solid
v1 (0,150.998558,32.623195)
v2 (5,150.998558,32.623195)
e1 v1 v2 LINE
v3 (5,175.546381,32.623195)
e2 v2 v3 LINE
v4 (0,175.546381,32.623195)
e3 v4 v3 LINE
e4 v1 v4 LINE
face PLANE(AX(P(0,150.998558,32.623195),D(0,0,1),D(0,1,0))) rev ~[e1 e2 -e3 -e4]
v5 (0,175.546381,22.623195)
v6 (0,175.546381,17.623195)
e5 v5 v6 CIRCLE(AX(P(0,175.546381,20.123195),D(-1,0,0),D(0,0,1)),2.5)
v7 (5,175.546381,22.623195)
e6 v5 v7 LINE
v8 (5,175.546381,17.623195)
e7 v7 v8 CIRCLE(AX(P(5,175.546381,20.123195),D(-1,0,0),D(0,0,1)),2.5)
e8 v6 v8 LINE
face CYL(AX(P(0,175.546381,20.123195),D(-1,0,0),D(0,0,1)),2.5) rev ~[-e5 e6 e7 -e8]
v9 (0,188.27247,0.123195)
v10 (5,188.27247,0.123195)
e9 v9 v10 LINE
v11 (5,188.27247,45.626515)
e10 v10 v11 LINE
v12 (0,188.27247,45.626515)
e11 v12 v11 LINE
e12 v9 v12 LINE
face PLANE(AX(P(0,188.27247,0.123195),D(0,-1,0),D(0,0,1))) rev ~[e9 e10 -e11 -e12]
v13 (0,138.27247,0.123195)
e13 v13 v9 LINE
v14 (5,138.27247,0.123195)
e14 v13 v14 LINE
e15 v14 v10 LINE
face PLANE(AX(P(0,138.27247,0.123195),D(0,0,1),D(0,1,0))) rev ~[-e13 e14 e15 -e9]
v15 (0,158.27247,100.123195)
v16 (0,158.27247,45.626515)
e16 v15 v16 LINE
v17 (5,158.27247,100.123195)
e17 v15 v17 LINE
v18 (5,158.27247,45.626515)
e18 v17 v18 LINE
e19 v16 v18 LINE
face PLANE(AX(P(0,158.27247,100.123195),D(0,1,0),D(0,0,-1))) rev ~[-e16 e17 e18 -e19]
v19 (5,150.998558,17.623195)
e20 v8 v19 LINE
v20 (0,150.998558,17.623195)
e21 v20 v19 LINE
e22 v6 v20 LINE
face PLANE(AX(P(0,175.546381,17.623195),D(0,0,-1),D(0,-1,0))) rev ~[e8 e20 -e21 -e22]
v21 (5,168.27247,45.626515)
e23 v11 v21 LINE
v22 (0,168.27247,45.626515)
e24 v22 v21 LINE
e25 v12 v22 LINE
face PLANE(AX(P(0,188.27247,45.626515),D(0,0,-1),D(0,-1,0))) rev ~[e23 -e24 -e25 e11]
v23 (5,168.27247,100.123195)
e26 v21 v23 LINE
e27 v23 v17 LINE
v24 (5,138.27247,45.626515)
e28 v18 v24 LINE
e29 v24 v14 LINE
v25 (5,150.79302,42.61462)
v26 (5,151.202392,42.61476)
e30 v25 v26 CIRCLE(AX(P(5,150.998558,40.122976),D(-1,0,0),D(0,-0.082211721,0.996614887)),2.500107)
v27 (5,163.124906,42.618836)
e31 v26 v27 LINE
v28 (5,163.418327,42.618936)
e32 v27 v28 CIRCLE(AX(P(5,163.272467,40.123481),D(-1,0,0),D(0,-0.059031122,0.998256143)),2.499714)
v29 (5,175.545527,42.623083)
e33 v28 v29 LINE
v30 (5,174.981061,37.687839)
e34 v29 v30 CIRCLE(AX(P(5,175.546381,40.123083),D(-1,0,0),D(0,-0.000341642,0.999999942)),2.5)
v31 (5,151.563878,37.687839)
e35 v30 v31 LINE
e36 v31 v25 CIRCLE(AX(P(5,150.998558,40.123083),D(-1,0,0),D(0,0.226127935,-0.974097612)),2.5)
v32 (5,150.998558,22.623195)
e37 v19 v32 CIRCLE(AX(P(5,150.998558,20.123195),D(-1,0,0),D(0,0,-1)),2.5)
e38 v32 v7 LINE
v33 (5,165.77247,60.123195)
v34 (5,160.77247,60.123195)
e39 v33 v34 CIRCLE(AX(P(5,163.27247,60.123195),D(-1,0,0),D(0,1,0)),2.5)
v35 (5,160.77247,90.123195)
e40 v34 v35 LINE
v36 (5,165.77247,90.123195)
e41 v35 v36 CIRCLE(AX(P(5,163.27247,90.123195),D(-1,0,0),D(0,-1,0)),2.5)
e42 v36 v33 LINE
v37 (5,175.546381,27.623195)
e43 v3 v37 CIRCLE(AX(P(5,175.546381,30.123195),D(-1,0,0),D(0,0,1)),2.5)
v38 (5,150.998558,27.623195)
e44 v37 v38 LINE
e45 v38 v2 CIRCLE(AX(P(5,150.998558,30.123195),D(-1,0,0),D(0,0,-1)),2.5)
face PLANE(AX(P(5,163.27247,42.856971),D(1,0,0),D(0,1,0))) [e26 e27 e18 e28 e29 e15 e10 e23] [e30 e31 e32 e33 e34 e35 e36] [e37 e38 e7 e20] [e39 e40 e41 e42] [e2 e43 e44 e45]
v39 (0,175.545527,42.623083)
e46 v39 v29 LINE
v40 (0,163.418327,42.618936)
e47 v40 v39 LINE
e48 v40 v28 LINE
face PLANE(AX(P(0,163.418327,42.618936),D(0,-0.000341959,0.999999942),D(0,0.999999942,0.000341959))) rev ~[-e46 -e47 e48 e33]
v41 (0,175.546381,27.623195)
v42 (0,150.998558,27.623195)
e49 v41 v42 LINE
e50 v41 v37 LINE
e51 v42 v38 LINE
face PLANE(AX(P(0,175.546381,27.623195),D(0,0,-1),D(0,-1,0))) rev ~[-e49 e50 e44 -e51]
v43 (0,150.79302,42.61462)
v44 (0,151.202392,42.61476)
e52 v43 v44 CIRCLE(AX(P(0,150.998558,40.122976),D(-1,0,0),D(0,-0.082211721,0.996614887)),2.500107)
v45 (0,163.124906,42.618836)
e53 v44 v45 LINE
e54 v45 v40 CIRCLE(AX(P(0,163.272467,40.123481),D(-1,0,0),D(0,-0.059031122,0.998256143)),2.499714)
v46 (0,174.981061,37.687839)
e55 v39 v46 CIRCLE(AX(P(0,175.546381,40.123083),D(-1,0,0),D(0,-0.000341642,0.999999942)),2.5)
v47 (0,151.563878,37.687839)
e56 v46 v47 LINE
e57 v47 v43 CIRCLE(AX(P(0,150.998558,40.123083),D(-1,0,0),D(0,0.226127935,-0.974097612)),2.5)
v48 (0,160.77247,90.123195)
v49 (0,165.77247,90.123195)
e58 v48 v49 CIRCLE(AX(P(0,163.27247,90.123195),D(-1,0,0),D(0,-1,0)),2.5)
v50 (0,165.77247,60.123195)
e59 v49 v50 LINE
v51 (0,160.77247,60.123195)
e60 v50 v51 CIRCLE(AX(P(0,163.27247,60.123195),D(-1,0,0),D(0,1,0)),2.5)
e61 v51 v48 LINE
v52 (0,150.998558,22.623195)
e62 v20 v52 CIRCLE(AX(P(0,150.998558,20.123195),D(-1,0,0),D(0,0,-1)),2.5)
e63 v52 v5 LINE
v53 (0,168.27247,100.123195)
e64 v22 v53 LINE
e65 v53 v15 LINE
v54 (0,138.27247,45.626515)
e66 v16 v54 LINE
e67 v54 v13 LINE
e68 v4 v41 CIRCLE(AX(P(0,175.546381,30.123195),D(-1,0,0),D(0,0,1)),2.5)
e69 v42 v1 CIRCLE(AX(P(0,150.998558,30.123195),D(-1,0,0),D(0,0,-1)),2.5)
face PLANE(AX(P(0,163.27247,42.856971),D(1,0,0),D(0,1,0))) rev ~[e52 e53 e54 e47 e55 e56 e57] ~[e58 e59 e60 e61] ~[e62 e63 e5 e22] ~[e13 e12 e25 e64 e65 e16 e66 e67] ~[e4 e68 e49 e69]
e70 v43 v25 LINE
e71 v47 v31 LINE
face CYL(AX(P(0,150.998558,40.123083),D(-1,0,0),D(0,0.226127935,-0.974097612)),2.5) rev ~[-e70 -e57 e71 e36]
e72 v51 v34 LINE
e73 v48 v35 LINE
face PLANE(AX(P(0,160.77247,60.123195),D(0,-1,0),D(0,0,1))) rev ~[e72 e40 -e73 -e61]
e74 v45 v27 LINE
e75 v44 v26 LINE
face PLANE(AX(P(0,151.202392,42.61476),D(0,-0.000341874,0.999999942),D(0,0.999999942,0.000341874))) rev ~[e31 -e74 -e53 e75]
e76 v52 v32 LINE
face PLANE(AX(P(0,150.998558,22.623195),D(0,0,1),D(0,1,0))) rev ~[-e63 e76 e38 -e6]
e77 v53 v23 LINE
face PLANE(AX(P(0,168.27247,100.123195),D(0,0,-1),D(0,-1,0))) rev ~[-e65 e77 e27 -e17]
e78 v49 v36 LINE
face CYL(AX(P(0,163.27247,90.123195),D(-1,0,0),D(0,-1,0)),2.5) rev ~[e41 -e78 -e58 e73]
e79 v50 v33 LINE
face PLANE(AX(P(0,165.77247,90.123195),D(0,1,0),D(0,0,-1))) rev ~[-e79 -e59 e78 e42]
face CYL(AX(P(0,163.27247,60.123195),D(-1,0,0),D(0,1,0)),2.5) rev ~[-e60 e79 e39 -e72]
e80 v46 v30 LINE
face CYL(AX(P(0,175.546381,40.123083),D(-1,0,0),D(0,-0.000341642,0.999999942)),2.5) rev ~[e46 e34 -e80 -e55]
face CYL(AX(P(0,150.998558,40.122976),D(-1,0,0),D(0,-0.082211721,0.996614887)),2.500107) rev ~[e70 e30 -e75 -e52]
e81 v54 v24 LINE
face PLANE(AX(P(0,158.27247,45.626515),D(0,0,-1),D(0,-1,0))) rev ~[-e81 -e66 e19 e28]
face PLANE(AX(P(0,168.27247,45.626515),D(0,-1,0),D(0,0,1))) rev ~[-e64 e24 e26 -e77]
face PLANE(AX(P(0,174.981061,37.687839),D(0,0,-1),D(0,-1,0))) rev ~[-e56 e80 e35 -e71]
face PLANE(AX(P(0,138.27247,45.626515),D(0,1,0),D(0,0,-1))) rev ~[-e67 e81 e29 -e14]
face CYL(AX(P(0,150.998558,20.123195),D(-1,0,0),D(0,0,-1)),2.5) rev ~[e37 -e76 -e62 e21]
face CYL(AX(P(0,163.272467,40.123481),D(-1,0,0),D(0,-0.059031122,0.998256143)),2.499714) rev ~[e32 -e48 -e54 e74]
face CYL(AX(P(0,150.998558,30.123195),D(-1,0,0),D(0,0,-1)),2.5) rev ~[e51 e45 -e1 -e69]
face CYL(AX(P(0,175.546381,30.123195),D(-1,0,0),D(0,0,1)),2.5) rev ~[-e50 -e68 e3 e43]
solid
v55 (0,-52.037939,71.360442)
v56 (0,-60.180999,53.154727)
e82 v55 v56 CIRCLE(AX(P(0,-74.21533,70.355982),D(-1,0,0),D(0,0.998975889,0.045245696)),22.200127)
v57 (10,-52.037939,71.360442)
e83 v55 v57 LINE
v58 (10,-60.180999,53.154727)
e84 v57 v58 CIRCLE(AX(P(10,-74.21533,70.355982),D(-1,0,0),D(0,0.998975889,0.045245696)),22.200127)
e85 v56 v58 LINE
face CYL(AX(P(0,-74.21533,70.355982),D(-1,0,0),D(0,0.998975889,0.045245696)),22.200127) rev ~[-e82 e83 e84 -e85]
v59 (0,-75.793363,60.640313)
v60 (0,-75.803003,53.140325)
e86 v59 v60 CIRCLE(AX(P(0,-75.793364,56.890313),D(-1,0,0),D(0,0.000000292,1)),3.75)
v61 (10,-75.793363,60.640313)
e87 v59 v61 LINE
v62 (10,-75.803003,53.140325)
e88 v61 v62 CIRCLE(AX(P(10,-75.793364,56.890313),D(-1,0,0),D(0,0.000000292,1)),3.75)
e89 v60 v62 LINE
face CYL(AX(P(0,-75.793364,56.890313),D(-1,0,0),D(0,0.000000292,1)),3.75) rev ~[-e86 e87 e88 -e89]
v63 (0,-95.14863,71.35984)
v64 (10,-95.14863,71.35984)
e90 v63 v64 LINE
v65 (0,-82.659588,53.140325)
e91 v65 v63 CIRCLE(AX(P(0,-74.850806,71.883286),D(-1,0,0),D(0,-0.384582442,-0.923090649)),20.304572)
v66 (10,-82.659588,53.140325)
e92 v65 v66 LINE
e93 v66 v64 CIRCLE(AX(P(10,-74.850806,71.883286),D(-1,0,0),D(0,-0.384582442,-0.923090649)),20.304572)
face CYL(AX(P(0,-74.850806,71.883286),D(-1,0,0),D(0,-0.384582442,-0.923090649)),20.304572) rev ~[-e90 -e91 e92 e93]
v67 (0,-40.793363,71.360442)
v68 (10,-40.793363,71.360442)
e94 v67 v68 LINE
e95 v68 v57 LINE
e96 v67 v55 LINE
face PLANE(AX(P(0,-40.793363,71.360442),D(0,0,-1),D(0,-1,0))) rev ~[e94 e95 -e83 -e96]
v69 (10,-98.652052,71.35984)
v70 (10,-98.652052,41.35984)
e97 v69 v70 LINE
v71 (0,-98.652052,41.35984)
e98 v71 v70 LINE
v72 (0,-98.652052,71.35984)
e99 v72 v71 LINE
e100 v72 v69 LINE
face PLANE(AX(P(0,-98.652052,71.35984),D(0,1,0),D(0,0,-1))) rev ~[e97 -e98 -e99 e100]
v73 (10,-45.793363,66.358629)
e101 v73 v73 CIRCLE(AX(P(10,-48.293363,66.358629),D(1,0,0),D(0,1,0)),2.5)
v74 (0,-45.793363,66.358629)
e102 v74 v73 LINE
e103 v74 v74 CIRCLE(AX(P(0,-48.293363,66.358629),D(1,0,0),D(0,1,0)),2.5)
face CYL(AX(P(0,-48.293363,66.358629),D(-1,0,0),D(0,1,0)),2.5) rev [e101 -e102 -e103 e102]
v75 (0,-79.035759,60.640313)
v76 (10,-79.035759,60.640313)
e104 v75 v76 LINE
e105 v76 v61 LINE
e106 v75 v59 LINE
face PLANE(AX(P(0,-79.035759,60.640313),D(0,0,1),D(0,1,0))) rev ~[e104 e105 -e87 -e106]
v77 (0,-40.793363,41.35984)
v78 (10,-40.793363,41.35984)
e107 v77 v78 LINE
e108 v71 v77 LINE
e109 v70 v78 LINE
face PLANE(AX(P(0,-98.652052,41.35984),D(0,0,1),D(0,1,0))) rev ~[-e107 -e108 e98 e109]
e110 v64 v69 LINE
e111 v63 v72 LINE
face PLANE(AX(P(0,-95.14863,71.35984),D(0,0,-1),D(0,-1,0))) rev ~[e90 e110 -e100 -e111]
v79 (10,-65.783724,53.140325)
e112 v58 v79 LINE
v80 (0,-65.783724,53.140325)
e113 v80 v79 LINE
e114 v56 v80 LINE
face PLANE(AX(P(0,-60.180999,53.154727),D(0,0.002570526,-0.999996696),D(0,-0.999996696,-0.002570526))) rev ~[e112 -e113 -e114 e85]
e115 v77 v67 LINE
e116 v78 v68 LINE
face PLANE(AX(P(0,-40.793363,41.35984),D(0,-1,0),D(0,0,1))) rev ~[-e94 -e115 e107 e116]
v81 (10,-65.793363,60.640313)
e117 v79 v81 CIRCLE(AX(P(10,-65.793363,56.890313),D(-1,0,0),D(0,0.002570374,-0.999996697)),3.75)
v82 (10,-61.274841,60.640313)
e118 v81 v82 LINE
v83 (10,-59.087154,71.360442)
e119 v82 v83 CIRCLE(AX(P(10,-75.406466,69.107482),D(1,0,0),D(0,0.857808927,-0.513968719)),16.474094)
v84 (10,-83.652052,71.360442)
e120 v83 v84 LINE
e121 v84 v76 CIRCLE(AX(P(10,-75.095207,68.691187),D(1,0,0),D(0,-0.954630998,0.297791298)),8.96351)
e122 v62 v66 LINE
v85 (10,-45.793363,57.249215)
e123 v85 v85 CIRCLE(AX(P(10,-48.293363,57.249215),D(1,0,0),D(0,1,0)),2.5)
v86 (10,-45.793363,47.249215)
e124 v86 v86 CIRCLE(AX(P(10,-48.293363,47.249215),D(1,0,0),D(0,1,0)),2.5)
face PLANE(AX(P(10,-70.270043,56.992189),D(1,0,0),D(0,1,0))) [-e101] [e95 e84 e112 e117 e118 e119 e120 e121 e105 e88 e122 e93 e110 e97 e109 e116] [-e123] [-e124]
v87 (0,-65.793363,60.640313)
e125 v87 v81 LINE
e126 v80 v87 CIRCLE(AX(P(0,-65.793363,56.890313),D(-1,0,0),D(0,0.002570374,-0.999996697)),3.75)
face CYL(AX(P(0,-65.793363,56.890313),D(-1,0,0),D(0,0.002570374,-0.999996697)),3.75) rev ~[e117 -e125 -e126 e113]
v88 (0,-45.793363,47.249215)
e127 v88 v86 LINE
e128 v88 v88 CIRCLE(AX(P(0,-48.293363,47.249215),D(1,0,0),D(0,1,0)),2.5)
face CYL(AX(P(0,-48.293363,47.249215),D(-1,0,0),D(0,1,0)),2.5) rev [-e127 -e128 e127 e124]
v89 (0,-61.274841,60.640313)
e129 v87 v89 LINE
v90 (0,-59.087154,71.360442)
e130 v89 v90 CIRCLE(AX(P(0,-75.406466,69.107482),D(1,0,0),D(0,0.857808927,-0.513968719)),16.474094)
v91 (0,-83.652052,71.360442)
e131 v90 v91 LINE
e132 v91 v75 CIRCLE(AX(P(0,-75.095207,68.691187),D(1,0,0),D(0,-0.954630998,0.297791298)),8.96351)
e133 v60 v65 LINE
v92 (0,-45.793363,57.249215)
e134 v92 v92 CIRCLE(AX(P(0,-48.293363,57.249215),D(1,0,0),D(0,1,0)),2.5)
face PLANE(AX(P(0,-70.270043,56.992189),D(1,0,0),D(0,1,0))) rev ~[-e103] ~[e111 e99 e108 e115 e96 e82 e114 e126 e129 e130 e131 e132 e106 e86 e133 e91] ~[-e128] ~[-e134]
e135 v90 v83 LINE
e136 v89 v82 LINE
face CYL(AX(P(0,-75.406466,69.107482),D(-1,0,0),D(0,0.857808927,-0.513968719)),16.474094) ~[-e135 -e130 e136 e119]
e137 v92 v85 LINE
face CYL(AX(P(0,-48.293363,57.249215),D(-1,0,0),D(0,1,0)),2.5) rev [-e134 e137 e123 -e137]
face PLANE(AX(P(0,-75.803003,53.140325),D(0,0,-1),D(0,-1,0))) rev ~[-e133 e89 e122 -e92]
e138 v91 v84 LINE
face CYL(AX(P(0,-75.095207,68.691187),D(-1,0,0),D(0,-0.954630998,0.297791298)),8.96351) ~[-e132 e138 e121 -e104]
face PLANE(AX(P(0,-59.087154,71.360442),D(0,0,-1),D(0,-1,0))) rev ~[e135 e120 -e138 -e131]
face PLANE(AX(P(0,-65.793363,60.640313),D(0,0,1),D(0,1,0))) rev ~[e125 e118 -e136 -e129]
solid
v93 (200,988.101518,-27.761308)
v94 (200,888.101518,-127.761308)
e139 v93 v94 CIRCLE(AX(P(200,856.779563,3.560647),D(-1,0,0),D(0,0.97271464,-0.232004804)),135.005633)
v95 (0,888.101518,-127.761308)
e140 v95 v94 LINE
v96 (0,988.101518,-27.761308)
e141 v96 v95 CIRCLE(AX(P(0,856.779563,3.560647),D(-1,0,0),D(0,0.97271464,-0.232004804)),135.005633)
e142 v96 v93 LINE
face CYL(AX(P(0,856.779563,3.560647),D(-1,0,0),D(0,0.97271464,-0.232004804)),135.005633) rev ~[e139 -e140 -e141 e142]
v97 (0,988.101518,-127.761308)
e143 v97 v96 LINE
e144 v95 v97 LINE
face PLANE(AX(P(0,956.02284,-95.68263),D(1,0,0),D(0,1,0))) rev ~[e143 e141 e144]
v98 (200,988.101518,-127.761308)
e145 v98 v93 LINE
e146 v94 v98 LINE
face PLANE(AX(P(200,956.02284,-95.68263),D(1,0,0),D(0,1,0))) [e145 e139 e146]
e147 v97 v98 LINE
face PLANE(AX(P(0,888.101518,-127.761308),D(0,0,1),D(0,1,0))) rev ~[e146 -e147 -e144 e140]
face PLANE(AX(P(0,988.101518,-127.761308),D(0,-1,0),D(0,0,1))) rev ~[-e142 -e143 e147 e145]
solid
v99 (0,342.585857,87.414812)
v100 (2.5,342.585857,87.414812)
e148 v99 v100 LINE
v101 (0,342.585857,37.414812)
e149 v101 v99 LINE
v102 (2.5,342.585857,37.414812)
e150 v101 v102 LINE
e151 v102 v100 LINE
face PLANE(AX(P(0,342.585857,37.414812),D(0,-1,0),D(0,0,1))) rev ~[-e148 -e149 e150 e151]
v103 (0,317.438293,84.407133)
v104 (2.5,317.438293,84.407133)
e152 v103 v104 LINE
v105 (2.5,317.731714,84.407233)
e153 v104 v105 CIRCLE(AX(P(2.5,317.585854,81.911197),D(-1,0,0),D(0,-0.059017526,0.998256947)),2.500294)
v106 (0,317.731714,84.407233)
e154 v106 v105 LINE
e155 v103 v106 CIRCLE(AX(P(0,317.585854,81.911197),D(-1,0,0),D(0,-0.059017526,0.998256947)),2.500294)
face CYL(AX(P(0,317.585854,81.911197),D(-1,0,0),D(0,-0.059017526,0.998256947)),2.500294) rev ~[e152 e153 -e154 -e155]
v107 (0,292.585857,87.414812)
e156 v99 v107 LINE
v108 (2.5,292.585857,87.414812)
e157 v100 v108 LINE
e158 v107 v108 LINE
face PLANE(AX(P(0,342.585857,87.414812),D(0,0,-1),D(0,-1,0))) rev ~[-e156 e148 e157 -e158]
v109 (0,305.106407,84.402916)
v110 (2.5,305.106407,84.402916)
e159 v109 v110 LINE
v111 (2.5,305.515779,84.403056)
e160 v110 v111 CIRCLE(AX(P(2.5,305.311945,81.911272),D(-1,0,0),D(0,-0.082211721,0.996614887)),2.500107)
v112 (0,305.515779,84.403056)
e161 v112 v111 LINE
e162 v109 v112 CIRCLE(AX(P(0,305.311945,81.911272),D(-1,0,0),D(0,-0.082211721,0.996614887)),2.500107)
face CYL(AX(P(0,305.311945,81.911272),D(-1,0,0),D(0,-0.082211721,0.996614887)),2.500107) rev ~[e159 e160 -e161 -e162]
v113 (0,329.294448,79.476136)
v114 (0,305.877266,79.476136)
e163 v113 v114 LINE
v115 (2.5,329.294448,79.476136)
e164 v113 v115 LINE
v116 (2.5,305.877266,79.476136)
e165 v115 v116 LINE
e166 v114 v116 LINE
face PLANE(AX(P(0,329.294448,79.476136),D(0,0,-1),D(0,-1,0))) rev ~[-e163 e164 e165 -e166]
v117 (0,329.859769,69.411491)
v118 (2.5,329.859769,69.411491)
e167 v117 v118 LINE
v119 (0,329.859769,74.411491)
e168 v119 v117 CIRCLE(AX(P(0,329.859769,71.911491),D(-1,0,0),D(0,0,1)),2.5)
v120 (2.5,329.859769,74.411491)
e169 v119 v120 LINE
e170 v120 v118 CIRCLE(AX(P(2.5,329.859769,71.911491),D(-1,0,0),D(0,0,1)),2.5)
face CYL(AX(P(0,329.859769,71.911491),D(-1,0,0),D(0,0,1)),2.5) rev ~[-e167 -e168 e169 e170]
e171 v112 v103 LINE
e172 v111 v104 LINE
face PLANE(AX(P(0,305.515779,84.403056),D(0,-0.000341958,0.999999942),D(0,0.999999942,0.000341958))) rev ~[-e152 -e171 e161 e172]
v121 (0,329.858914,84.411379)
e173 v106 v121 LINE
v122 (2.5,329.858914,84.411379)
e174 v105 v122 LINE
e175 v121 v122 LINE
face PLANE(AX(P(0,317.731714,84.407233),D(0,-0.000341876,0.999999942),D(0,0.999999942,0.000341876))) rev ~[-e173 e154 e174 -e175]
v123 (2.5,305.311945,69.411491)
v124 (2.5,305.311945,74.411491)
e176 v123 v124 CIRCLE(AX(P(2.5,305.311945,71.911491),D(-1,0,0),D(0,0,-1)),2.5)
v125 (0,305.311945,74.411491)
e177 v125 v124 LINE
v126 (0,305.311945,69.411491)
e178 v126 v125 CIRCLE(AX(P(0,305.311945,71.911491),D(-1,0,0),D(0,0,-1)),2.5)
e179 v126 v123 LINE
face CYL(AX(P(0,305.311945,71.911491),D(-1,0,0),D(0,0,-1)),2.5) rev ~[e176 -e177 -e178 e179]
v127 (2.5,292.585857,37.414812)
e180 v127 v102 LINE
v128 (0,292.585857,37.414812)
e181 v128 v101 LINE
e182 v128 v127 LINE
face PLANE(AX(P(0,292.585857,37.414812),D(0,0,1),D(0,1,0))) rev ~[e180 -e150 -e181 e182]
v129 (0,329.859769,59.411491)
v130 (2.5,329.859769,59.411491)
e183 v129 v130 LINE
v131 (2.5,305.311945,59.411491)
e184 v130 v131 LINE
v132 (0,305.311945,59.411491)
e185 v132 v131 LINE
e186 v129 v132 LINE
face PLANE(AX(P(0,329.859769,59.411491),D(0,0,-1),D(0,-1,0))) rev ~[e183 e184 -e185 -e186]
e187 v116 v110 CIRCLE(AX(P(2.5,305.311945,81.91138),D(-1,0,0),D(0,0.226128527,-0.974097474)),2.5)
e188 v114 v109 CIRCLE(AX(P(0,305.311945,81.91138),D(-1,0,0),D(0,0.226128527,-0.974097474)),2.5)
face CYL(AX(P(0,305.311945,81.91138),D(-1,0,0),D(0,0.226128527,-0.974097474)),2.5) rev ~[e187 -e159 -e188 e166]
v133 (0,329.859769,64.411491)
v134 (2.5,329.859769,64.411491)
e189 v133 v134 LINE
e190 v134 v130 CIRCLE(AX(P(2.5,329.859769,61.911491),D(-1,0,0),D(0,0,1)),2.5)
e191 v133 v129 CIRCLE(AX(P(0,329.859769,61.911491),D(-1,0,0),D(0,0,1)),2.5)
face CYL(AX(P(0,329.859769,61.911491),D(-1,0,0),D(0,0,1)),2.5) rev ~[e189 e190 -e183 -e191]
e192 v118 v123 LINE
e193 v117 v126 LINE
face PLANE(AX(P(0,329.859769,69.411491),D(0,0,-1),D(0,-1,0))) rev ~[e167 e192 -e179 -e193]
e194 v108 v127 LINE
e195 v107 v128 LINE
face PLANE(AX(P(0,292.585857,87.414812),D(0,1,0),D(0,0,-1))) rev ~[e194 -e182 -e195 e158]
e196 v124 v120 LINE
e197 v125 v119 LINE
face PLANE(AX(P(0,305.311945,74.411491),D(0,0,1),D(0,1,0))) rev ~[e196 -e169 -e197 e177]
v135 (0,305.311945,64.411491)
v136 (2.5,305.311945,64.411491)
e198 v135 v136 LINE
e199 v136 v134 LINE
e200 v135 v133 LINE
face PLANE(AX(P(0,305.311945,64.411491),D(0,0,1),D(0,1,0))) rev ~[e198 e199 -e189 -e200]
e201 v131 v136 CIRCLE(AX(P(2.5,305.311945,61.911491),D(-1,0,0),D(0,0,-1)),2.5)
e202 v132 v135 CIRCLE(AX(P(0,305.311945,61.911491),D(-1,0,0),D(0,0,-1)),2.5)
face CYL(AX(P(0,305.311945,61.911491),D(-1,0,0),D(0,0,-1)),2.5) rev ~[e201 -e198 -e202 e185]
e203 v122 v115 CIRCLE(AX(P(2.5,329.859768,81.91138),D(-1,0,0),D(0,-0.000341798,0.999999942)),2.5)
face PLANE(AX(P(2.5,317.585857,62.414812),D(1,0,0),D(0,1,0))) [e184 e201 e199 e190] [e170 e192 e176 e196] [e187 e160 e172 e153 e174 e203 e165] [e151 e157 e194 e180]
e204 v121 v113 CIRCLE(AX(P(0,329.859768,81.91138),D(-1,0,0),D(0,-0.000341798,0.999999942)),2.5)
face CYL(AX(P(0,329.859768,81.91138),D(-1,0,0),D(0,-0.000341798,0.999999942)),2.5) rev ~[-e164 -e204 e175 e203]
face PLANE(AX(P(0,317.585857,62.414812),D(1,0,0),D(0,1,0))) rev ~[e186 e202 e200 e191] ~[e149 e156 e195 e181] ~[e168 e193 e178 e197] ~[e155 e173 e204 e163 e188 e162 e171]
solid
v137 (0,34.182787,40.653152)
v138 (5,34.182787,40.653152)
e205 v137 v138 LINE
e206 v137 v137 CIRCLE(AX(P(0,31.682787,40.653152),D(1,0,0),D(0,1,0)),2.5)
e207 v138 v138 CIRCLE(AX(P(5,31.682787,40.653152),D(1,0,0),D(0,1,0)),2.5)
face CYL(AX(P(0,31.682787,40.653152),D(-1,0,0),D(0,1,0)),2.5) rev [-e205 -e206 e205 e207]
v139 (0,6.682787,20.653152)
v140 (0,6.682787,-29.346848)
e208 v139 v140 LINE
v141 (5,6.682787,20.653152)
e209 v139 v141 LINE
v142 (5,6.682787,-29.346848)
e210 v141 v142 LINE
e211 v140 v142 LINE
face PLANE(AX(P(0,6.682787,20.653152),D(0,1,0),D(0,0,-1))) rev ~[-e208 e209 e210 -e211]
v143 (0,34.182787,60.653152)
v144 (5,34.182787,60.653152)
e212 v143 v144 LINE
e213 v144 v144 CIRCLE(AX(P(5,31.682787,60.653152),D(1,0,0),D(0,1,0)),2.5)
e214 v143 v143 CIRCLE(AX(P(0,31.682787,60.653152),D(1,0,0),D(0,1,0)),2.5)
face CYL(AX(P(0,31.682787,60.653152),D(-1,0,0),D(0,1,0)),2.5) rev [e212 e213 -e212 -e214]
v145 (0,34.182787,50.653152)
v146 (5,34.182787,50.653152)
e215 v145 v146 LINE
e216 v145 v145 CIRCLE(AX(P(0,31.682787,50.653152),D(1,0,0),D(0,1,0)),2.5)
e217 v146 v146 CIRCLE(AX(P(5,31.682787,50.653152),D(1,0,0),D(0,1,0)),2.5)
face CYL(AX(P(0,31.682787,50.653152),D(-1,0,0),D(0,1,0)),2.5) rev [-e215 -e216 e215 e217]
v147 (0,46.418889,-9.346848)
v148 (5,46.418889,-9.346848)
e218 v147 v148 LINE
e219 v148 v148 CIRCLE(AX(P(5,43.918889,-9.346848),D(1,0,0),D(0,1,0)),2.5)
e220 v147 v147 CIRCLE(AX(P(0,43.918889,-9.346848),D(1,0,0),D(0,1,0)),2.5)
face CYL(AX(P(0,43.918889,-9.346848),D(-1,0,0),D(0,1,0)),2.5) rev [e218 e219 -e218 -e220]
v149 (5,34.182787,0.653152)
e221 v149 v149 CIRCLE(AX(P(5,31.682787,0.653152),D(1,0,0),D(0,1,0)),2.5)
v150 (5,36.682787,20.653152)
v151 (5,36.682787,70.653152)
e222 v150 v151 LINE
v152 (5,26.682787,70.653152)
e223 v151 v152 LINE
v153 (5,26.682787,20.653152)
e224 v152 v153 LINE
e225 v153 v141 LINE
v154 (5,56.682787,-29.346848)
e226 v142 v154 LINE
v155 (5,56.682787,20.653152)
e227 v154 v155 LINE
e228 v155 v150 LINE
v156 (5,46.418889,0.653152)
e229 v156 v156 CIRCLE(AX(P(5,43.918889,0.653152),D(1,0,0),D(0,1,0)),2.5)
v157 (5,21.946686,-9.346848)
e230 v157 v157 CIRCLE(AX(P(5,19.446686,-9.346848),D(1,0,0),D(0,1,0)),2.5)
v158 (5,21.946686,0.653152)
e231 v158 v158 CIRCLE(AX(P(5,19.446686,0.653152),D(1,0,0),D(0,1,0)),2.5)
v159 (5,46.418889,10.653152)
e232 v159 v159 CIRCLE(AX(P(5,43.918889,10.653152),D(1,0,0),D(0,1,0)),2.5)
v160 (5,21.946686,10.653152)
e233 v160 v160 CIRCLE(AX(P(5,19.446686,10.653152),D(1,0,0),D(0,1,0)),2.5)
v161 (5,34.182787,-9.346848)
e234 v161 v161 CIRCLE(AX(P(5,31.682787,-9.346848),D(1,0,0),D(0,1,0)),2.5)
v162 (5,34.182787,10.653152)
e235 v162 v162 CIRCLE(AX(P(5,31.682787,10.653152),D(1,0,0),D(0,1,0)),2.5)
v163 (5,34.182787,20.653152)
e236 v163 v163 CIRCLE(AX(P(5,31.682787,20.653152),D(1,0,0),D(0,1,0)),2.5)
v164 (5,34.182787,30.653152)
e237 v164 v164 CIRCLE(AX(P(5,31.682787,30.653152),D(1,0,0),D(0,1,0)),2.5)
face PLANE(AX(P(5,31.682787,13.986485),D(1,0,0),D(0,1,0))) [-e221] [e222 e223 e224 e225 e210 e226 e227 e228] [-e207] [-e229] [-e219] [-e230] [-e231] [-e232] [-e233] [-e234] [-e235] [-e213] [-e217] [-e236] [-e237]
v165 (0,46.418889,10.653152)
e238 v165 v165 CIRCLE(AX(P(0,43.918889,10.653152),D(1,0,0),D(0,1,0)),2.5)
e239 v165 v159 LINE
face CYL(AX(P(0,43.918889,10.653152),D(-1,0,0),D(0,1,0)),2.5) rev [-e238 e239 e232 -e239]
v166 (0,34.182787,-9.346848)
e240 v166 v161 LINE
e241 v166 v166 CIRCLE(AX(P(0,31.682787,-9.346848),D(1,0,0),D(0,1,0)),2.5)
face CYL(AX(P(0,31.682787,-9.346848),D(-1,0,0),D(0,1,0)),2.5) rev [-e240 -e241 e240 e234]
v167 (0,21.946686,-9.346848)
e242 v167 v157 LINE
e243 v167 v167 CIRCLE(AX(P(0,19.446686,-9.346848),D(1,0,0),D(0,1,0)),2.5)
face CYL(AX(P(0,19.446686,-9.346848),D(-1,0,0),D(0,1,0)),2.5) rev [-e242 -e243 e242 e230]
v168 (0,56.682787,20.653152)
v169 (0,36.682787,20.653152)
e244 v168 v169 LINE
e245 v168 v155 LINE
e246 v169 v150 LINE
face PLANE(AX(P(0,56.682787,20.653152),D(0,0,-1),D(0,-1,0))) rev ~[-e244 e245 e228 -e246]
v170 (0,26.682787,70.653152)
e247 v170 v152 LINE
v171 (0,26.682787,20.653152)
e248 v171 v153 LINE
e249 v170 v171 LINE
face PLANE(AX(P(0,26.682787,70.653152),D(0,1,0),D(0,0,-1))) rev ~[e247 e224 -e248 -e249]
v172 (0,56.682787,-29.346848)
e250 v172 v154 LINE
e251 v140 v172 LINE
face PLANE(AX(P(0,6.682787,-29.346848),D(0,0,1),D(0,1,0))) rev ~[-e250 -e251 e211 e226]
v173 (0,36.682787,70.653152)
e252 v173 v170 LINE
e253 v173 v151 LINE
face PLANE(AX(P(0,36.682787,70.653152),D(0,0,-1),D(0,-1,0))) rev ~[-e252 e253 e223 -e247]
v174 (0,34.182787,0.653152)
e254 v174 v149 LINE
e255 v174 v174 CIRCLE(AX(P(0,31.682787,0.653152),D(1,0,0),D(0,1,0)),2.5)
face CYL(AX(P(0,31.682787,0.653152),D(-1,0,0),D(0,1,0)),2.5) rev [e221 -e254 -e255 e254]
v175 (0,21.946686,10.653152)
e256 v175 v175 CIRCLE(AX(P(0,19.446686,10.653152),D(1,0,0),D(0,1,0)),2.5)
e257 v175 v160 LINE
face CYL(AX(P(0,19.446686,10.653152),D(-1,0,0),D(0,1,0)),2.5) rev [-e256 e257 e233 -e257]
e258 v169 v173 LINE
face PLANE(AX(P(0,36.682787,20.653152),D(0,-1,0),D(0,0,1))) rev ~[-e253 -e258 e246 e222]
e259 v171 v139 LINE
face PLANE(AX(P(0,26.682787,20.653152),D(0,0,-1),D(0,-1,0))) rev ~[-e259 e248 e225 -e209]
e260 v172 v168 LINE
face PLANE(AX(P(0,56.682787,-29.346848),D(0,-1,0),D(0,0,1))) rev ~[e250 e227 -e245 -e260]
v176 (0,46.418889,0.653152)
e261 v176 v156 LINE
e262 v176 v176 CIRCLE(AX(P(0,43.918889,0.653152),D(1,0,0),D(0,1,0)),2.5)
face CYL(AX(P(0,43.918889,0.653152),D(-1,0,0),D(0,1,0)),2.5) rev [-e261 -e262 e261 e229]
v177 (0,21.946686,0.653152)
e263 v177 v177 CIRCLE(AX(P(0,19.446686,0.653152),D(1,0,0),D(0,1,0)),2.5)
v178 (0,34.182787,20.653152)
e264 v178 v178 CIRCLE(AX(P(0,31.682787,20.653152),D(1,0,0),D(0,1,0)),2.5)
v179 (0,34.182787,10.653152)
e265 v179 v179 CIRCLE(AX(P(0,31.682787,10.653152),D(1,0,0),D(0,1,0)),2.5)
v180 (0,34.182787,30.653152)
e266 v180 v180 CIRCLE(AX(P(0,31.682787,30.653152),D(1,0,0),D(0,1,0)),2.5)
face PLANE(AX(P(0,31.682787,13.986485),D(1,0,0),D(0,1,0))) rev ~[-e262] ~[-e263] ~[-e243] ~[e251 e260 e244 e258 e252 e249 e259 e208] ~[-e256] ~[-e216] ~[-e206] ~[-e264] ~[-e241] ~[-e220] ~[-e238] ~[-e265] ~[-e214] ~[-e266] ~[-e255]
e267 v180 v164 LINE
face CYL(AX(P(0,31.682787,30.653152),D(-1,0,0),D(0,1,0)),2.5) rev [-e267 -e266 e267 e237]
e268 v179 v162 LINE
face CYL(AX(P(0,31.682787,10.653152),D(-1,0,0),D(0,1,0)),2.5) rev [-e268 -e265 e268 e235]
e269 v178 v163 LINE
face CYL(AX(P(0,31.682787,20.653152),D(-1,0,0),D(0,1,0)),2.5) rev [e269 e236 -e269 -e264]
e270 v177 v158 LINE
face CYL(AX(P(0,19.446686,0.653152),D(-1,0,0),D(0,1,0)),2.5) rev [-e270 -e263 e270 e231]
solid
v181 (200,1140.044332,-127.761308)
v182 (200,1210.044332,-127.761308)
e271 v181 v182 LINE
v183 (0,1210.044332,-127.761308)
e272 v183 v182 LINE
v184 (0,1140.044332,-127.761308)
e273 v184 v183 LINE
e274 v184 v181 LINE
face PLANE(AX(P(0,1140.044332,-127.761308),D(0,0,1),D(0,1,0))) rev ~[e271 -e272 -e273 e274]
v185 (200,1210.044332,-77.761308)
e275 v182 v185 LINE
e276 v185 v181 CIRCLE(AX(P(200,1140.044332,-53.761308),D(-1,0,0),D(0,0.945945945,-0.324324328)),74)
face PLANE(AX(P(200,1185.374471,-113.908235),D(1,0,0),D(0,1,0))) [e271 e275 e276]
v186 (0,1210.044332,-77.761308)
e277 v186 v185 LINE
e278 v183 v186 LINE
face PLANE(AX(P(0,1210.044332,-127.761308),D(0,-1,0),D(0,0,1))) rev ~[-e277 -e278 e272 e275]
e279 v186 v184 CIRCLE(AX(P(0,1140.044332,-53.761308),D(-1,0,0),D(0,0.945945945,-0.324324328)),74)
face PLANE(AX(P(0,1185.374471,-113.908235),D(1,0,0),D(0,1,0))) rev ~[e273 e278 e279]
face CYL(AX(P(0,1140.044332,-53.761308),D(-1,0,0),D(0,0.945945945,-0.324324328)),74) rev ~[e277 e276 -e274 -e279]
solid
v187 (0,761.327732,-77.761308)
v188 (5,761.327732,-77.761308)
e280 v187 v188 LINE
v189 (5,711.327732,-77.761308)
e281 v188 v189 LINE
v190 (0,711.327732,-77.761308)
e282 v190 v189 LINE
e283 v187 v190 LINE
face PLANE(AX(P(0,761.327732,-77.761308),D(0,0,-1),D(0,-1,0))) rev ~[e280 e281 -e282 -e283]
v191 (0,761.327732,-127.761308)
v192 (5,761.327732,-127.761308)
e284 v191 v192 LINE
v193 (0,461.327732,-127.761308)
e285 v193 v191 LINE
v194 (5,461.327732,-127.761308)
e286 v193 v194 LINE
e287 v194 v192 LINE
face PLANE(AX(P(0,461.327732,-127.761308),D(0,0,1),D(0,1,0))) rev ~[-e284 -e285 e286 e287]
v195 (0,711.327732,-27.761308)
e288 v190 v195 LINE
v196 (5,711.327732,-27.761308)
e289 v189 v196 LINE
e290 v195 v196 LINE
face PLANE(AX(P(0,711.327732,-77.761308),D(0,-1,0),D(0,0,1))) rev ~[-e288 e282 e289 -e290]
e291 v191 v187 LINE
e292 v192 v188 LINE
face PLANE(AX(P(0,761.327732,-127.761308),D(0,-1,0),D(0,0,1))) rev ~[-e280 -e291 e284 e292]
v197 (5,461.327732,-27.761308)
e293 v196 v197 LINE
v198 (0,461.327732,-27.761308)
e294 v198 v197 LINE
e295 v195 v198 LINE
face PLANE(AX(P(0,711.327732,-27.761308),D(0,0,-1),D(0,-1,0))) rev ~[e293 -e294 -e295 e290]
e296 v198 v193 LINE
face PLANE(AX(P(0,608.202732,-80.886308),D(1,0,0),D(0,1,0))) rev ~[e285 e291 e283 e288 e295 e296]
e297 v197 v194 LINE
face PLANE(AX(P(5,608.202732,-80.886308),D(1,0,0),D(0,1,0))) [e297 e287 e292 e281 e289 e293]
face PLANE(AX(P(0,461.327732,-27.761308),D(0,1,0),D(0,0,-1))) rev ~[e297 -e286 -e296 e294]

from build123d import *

# Parameters (mm, degrees)
F0_R     = 2.5
F1_DEPTH = 10
F2_DEPTH = 5
F3_DEPTH = 5
F4_DEPTH = 2.5
F5_DEPTH = 5
F6_DEPTH = 200
F7_DEPTH = 200


with BuildPart() as f1:
    # F0 (on Right) → F1 (new body)
    with BuildSketch(Plane.YZ):
        with BuildLine():
            Line((-40.793363, 71.360442), (-45.793363, 71.360442))
            Line((-45.793363, 71.360442), (-52.037939, 71.360442))
            ThreePointArc((-52.037939, 71.360442), (-53.949985, 61.291689), (-60.180999, 53.154727))
            Line((-60.180999, 53.154727), (-65.783724, 53.140325))
            ThreePointArc((-65.783724, 53.140325), (-69.54336, 56.885493), (-65.793363, 60.640313))
            Line((-65.793363, 60.640313), (-61.274841, 60.640313))
            ThreePointArc((-61.274841, 60.640313), (-59.265054, 65.813458), (-59.087154, 71.360442))
            Line((-59.087154, 71.360442), (-83.652052, 71.360442))
            ThreePointArc((-83.652052, 71.360442), (-83.327857, 65.14605), (-79.035759, 60.640313))
            Line((-79.035759, 60.640313), (-75.793363, 60.640313))
            ThreePointArc((-75.793363, 60.640313), (-72.043367, 56.885493), (-75.803003, 53.140325))
            Line((-75.803003, 53.140325), (-82.659588, 53.140325))
            ThreePointArc((-82.659588, 53.140325), (-91.598433, 60.403188), (-95.14863, 71.35984))
            Line((-95.14863, 71.35984), (-98.652052, 71.35984))
            Line((-98.652052, 71.35984), (-98.652052, 41.35984))
            Line((-98.652052, 41.35984), (-93.652052, 41.35984))
            Line((-93.652052, 41.35984), (-80.745518, 41.35984))
            Line((-80.745518, 41.35984), (-45.793363, 41.35984))
            Line((-45.793363, 41.35984), (-40.793363, 41.35984))
            Line((-40.793363, 41.35984), (-40.793363, 71.360442))
        make_face()
        with Locations((-48.293363, 47.249215)):
            Circle(F0_R, mode=Mode.SUBTRACT)
        with Locations((-48.293363, 57.249215)):
            Circle(F0_R, mode=Mode.SUBTRACT)
        with Locations((-48.293363, 66.358629)):
            Circle(F0_R, mode=Mode.SUBTRACT)
    extrude(amount=F1_DEPTH)


with BuildPart() as f2:
    # F0 (on Right) → F2 (new body)
    with BuildSketch(Plane.YZ):
        Polygon((36.682787, 70.653152), (26.682787, 70.653152), (26.682787, 20.653152), (6.682787, 20.653152), (6.682787, -29.346848), (26.682787, -29.346848), (36.682787, -29.346848), (56.682787, -29.346848), (56.682787, 10.653152), (56.682787, 20.653152), (36.682787, 20.653152), align=None)
        with Locations((19.446686, -9.346848)):
            Circle(F0_R, mode=Mode.SUBTRACT)
        with Locations((31.682787, -9.346848)):
            Circle(F0_R, mode=Mode.SUBTRACT)
        with Locations((43.918889, -9.346848)):
            Circle(F0_R, mode=Mode.SUBTRACT)
        with Locations((19.446686, 0.653152)):
            Circle(F0_R, mode=Mode.SUBTRACT)
        with Locations((31.682787, 0.653152)):
            Circle(F0_R, mode=Mode.SUBTRACT)
        with Locations((43.918889, 0.653152)):
            Circle(F0_R, mode=Mode.SUBTRACT)
        with Locations((19.446686, 10.653152)):
            Circle(F0_R, mode=Mode.SUBTRACT)
        with Locations((31.682787, 10.653152)):
            Circle(F0_R, mode=Mode.SUBTRACT)
        with Locations((43.918889, 10.653152)):
            Circle(F0_R, mode=Mode.SUBTRACT)
        with Locations((31.682787, 20.653152)):
            Circle(F0_R, mode=Mode.SUBTRACT)
        with Locations((31.682787, 30.653152)):
            Circle(F0_R, mode=Mode.SUBTRACT)
        with Locations((31.682787, 40.653152)):
            Circle(F0_R, mode=Mode.SUBTRACT)
        with Locations((31.682787, 50.653152)):
            Circle(F0_R, mode=Mode.SUBTRACT)
        with Locations((31.682787, 60.653152)):
            Circle(F0_R, mode=Mode.SUBTRACT)
    extrude(amount=F2_DEPTH)


with BuildPart() as f3:
    # F0 (on Right) → F3 (new body)
    with BuildSketch(Plane.YZ):
        Polygon((168.27247, 100.123195), (158.27247, 100.123195), (158.27247, 45.626515), (138.27247, 45.626515), (138.27247, 0.123195), (158.27247, 0.123195), (168.27247, 0.123195), (188.27247, 0.123195), (188.27247, 45.626515), (168.27247, 45.626515), align=None)
        with BuildLine():
            ThreePointArc((175.546381, 22.623195), (178.046381, 20.123195), (175.546381, 17.623195))
            Line((175.546381, 17.623195), (150.998558, 17.623195))
            ThreePointArc((150.998558, 17.623195), (148.498558, 20.123195), (150.998558, 22.623195))
            Line((150.998558, 22.623195), (175.546381, 22.623195))
        make_face(mode=Mode.SUBTRACT)
        with BuildLine():
            ThreePointArc((175.546381, 32.623195), (178.046381, 30.123195), (175.546381, 27.623195))
            Line((175.546381, 27.623195), (150.998558, 27.623195))
            ThreePointArc((150.998558, 27.623195), (148.498558, 30.123195), (150.998558, 32.623195))
            Line((150.998558, 32.623195), (175.546381, 32.623195))
        make_face(mode=Mode.SUBTRACT)
        with BuildLine():
            ThreePointArc((163.124906, 42.618836), (163.271615, 42.623195), (163.418327, 42.618936))
            Line((163.418327, 42.618936), (175.545527, 42.623083))
            ThreePointArc((175.545527, 42.623083), (178.030188, 39.838999), (174.981061, 37.687839))
            Line((174.981061, 37.687839), (151.563878, 37.687839))
            ThreePointArc((151.563878, 37.687839), (148.528608, 39.736628), (150.79302, 42.61462))
            ThreePointArc((150.79302, 42.61462), (150.997703, 42.623083), (151.202392, 42.61476))
            Line((151.202392, 42.61476), (163.124906, 42.618836))
        make_face(mode=Mode.SUBTRACT)
        with BuildLine():
            ThreePointArc((160.77247, 90.123195), (163.27247, 92.623195), (165.77247, 90.123195))
            Line((165.77247, 90.123195), (165.77247, 60.123195))
            ThreePointArc((165.77247, 60.123195), (163.27247, 57.623195), (160.77247, 60.123195))
            Line((160.77247, 60.123195), (160.77247, 90.123195))
        make_face(mode=Mode.SUBTRACT)
    extrude(amount=F3_DEPTH)


with BuildPart() as f4:
    # F0 (on Right) → F4 (new body)
    with BuildSketch(Plane.YZ):
        Polygon((292.585857, 37.414812), (312.585857, 37.414812), (322.585857, 37.414812), (342.585857, 37.414812), (342.585857, 77.414812), (342.585857, 87.414812), (322.585857, 87.414812), (312.585857, 87.414812), (292.585857, 87.414812), align=None)
        with BuildLine():
            ThreePointArc((329.859769, 64.411491), (332.359769, 61.911491), (329.859769, 59.411491))
            Line((329.859769, 59.411491), (305.311945, 59.411491))
            ThreePointArc((305.311945, 59.411491), (302.811945, 61.911491), (305.311945, 64.411491))
            Line((305.311945, 64.411491), (329.859769, 64.411491))
        make_face(mode=Mode.SUBTRACT)
        with BuildLine():
            ThreePointArc((329.859769, 74.411491), (332.359769, 71.911491), (329.859769, 69.411491))
            Line((329.859769, 69.411491), (305.311945, 69.411491))
            ThreePointArc((305.311945, 69.411491), (302.811945, 71.911491), (305.311945, 74.411491))
            Line((305.311945, 74.411491), (329.859769, 74.411491))
        make_face(mode=Mode.SUBTRACT)
        with BuildLine():
            ThreePointArc((317.438293, 84.407133), (317.585002, 84.411491), (317.731714, 84.407233))
            Line((317.731714, 84.407233), (329.858914, 84.411379))
            ThreePointArc((329.858914, 84.411379), (332.343575, 81.627296), (329.294448, 79.476136))
            Line((329.294448, 79.476136), (305.877266, 79.476136))
            ThreePointArc((305.877266, 79.476136), (302.841995, 81.524924), (305.106407, 84.402916))
            ThreePointArc((305.106407, 84.402916), (305.31109, 84.411379), (305.515779, 84.403056))
            Line((305.515779, 84.403056), (317.438293, 84.407133))
        make_face(mode=Mode.SUBTRACT)
    extrude(amount=F4_DEPTH)


with BuildPart() as f5:
    # F0 (on Right) → F5 (new body)
    with BuildSketch(Plane.YZ):
        Polygon((711.327732, -27.761308), (461.327732, -27.761308), (461.327732, -127.761308), (761.327732, -127.761308), (761.327732, -77.761308), (711.327732, -77.761308), align=None)
    extrude(amount=F5_DEPTH)


with BuildPart() as f6:
    # F0 (on Right) → F6 (new body)
    with BuildSketch(Plane.YZ):
        with BuildLine():
            Line((988.101518, -127.761308), (988.101518, -27.761308))
            ThreePointArc((988.101518, -27.761308), (952.242961, -91.902751), (888.101518, -127.761308))
            Line((888.101518, -127.761308), (988.101518, -127.761308))
        make_face()
    extrude(amount=F6_DEPTH)


with BuildPart() as f7:
    # F0 (on Right) → F7 (new body)
    with BuildSketch(Plane.YZ):
        with BuildLine():
            ThreePointArc((1210.044332, -77.761308), (1183.055958, -113.977585), (1140.044332, -127.761308))
            Line((1140.044332, -127.761308), (1210.044332, -127.761308))
            Line((1210.044332, -127.761308), (1210.044332, -77.761308))
        make_face()
    extrude(amount=F7_DEPTH)


solid = Compound([f1.part, f2.part, f3.part, f4.part, f5.part, f6.part, f7.part])
